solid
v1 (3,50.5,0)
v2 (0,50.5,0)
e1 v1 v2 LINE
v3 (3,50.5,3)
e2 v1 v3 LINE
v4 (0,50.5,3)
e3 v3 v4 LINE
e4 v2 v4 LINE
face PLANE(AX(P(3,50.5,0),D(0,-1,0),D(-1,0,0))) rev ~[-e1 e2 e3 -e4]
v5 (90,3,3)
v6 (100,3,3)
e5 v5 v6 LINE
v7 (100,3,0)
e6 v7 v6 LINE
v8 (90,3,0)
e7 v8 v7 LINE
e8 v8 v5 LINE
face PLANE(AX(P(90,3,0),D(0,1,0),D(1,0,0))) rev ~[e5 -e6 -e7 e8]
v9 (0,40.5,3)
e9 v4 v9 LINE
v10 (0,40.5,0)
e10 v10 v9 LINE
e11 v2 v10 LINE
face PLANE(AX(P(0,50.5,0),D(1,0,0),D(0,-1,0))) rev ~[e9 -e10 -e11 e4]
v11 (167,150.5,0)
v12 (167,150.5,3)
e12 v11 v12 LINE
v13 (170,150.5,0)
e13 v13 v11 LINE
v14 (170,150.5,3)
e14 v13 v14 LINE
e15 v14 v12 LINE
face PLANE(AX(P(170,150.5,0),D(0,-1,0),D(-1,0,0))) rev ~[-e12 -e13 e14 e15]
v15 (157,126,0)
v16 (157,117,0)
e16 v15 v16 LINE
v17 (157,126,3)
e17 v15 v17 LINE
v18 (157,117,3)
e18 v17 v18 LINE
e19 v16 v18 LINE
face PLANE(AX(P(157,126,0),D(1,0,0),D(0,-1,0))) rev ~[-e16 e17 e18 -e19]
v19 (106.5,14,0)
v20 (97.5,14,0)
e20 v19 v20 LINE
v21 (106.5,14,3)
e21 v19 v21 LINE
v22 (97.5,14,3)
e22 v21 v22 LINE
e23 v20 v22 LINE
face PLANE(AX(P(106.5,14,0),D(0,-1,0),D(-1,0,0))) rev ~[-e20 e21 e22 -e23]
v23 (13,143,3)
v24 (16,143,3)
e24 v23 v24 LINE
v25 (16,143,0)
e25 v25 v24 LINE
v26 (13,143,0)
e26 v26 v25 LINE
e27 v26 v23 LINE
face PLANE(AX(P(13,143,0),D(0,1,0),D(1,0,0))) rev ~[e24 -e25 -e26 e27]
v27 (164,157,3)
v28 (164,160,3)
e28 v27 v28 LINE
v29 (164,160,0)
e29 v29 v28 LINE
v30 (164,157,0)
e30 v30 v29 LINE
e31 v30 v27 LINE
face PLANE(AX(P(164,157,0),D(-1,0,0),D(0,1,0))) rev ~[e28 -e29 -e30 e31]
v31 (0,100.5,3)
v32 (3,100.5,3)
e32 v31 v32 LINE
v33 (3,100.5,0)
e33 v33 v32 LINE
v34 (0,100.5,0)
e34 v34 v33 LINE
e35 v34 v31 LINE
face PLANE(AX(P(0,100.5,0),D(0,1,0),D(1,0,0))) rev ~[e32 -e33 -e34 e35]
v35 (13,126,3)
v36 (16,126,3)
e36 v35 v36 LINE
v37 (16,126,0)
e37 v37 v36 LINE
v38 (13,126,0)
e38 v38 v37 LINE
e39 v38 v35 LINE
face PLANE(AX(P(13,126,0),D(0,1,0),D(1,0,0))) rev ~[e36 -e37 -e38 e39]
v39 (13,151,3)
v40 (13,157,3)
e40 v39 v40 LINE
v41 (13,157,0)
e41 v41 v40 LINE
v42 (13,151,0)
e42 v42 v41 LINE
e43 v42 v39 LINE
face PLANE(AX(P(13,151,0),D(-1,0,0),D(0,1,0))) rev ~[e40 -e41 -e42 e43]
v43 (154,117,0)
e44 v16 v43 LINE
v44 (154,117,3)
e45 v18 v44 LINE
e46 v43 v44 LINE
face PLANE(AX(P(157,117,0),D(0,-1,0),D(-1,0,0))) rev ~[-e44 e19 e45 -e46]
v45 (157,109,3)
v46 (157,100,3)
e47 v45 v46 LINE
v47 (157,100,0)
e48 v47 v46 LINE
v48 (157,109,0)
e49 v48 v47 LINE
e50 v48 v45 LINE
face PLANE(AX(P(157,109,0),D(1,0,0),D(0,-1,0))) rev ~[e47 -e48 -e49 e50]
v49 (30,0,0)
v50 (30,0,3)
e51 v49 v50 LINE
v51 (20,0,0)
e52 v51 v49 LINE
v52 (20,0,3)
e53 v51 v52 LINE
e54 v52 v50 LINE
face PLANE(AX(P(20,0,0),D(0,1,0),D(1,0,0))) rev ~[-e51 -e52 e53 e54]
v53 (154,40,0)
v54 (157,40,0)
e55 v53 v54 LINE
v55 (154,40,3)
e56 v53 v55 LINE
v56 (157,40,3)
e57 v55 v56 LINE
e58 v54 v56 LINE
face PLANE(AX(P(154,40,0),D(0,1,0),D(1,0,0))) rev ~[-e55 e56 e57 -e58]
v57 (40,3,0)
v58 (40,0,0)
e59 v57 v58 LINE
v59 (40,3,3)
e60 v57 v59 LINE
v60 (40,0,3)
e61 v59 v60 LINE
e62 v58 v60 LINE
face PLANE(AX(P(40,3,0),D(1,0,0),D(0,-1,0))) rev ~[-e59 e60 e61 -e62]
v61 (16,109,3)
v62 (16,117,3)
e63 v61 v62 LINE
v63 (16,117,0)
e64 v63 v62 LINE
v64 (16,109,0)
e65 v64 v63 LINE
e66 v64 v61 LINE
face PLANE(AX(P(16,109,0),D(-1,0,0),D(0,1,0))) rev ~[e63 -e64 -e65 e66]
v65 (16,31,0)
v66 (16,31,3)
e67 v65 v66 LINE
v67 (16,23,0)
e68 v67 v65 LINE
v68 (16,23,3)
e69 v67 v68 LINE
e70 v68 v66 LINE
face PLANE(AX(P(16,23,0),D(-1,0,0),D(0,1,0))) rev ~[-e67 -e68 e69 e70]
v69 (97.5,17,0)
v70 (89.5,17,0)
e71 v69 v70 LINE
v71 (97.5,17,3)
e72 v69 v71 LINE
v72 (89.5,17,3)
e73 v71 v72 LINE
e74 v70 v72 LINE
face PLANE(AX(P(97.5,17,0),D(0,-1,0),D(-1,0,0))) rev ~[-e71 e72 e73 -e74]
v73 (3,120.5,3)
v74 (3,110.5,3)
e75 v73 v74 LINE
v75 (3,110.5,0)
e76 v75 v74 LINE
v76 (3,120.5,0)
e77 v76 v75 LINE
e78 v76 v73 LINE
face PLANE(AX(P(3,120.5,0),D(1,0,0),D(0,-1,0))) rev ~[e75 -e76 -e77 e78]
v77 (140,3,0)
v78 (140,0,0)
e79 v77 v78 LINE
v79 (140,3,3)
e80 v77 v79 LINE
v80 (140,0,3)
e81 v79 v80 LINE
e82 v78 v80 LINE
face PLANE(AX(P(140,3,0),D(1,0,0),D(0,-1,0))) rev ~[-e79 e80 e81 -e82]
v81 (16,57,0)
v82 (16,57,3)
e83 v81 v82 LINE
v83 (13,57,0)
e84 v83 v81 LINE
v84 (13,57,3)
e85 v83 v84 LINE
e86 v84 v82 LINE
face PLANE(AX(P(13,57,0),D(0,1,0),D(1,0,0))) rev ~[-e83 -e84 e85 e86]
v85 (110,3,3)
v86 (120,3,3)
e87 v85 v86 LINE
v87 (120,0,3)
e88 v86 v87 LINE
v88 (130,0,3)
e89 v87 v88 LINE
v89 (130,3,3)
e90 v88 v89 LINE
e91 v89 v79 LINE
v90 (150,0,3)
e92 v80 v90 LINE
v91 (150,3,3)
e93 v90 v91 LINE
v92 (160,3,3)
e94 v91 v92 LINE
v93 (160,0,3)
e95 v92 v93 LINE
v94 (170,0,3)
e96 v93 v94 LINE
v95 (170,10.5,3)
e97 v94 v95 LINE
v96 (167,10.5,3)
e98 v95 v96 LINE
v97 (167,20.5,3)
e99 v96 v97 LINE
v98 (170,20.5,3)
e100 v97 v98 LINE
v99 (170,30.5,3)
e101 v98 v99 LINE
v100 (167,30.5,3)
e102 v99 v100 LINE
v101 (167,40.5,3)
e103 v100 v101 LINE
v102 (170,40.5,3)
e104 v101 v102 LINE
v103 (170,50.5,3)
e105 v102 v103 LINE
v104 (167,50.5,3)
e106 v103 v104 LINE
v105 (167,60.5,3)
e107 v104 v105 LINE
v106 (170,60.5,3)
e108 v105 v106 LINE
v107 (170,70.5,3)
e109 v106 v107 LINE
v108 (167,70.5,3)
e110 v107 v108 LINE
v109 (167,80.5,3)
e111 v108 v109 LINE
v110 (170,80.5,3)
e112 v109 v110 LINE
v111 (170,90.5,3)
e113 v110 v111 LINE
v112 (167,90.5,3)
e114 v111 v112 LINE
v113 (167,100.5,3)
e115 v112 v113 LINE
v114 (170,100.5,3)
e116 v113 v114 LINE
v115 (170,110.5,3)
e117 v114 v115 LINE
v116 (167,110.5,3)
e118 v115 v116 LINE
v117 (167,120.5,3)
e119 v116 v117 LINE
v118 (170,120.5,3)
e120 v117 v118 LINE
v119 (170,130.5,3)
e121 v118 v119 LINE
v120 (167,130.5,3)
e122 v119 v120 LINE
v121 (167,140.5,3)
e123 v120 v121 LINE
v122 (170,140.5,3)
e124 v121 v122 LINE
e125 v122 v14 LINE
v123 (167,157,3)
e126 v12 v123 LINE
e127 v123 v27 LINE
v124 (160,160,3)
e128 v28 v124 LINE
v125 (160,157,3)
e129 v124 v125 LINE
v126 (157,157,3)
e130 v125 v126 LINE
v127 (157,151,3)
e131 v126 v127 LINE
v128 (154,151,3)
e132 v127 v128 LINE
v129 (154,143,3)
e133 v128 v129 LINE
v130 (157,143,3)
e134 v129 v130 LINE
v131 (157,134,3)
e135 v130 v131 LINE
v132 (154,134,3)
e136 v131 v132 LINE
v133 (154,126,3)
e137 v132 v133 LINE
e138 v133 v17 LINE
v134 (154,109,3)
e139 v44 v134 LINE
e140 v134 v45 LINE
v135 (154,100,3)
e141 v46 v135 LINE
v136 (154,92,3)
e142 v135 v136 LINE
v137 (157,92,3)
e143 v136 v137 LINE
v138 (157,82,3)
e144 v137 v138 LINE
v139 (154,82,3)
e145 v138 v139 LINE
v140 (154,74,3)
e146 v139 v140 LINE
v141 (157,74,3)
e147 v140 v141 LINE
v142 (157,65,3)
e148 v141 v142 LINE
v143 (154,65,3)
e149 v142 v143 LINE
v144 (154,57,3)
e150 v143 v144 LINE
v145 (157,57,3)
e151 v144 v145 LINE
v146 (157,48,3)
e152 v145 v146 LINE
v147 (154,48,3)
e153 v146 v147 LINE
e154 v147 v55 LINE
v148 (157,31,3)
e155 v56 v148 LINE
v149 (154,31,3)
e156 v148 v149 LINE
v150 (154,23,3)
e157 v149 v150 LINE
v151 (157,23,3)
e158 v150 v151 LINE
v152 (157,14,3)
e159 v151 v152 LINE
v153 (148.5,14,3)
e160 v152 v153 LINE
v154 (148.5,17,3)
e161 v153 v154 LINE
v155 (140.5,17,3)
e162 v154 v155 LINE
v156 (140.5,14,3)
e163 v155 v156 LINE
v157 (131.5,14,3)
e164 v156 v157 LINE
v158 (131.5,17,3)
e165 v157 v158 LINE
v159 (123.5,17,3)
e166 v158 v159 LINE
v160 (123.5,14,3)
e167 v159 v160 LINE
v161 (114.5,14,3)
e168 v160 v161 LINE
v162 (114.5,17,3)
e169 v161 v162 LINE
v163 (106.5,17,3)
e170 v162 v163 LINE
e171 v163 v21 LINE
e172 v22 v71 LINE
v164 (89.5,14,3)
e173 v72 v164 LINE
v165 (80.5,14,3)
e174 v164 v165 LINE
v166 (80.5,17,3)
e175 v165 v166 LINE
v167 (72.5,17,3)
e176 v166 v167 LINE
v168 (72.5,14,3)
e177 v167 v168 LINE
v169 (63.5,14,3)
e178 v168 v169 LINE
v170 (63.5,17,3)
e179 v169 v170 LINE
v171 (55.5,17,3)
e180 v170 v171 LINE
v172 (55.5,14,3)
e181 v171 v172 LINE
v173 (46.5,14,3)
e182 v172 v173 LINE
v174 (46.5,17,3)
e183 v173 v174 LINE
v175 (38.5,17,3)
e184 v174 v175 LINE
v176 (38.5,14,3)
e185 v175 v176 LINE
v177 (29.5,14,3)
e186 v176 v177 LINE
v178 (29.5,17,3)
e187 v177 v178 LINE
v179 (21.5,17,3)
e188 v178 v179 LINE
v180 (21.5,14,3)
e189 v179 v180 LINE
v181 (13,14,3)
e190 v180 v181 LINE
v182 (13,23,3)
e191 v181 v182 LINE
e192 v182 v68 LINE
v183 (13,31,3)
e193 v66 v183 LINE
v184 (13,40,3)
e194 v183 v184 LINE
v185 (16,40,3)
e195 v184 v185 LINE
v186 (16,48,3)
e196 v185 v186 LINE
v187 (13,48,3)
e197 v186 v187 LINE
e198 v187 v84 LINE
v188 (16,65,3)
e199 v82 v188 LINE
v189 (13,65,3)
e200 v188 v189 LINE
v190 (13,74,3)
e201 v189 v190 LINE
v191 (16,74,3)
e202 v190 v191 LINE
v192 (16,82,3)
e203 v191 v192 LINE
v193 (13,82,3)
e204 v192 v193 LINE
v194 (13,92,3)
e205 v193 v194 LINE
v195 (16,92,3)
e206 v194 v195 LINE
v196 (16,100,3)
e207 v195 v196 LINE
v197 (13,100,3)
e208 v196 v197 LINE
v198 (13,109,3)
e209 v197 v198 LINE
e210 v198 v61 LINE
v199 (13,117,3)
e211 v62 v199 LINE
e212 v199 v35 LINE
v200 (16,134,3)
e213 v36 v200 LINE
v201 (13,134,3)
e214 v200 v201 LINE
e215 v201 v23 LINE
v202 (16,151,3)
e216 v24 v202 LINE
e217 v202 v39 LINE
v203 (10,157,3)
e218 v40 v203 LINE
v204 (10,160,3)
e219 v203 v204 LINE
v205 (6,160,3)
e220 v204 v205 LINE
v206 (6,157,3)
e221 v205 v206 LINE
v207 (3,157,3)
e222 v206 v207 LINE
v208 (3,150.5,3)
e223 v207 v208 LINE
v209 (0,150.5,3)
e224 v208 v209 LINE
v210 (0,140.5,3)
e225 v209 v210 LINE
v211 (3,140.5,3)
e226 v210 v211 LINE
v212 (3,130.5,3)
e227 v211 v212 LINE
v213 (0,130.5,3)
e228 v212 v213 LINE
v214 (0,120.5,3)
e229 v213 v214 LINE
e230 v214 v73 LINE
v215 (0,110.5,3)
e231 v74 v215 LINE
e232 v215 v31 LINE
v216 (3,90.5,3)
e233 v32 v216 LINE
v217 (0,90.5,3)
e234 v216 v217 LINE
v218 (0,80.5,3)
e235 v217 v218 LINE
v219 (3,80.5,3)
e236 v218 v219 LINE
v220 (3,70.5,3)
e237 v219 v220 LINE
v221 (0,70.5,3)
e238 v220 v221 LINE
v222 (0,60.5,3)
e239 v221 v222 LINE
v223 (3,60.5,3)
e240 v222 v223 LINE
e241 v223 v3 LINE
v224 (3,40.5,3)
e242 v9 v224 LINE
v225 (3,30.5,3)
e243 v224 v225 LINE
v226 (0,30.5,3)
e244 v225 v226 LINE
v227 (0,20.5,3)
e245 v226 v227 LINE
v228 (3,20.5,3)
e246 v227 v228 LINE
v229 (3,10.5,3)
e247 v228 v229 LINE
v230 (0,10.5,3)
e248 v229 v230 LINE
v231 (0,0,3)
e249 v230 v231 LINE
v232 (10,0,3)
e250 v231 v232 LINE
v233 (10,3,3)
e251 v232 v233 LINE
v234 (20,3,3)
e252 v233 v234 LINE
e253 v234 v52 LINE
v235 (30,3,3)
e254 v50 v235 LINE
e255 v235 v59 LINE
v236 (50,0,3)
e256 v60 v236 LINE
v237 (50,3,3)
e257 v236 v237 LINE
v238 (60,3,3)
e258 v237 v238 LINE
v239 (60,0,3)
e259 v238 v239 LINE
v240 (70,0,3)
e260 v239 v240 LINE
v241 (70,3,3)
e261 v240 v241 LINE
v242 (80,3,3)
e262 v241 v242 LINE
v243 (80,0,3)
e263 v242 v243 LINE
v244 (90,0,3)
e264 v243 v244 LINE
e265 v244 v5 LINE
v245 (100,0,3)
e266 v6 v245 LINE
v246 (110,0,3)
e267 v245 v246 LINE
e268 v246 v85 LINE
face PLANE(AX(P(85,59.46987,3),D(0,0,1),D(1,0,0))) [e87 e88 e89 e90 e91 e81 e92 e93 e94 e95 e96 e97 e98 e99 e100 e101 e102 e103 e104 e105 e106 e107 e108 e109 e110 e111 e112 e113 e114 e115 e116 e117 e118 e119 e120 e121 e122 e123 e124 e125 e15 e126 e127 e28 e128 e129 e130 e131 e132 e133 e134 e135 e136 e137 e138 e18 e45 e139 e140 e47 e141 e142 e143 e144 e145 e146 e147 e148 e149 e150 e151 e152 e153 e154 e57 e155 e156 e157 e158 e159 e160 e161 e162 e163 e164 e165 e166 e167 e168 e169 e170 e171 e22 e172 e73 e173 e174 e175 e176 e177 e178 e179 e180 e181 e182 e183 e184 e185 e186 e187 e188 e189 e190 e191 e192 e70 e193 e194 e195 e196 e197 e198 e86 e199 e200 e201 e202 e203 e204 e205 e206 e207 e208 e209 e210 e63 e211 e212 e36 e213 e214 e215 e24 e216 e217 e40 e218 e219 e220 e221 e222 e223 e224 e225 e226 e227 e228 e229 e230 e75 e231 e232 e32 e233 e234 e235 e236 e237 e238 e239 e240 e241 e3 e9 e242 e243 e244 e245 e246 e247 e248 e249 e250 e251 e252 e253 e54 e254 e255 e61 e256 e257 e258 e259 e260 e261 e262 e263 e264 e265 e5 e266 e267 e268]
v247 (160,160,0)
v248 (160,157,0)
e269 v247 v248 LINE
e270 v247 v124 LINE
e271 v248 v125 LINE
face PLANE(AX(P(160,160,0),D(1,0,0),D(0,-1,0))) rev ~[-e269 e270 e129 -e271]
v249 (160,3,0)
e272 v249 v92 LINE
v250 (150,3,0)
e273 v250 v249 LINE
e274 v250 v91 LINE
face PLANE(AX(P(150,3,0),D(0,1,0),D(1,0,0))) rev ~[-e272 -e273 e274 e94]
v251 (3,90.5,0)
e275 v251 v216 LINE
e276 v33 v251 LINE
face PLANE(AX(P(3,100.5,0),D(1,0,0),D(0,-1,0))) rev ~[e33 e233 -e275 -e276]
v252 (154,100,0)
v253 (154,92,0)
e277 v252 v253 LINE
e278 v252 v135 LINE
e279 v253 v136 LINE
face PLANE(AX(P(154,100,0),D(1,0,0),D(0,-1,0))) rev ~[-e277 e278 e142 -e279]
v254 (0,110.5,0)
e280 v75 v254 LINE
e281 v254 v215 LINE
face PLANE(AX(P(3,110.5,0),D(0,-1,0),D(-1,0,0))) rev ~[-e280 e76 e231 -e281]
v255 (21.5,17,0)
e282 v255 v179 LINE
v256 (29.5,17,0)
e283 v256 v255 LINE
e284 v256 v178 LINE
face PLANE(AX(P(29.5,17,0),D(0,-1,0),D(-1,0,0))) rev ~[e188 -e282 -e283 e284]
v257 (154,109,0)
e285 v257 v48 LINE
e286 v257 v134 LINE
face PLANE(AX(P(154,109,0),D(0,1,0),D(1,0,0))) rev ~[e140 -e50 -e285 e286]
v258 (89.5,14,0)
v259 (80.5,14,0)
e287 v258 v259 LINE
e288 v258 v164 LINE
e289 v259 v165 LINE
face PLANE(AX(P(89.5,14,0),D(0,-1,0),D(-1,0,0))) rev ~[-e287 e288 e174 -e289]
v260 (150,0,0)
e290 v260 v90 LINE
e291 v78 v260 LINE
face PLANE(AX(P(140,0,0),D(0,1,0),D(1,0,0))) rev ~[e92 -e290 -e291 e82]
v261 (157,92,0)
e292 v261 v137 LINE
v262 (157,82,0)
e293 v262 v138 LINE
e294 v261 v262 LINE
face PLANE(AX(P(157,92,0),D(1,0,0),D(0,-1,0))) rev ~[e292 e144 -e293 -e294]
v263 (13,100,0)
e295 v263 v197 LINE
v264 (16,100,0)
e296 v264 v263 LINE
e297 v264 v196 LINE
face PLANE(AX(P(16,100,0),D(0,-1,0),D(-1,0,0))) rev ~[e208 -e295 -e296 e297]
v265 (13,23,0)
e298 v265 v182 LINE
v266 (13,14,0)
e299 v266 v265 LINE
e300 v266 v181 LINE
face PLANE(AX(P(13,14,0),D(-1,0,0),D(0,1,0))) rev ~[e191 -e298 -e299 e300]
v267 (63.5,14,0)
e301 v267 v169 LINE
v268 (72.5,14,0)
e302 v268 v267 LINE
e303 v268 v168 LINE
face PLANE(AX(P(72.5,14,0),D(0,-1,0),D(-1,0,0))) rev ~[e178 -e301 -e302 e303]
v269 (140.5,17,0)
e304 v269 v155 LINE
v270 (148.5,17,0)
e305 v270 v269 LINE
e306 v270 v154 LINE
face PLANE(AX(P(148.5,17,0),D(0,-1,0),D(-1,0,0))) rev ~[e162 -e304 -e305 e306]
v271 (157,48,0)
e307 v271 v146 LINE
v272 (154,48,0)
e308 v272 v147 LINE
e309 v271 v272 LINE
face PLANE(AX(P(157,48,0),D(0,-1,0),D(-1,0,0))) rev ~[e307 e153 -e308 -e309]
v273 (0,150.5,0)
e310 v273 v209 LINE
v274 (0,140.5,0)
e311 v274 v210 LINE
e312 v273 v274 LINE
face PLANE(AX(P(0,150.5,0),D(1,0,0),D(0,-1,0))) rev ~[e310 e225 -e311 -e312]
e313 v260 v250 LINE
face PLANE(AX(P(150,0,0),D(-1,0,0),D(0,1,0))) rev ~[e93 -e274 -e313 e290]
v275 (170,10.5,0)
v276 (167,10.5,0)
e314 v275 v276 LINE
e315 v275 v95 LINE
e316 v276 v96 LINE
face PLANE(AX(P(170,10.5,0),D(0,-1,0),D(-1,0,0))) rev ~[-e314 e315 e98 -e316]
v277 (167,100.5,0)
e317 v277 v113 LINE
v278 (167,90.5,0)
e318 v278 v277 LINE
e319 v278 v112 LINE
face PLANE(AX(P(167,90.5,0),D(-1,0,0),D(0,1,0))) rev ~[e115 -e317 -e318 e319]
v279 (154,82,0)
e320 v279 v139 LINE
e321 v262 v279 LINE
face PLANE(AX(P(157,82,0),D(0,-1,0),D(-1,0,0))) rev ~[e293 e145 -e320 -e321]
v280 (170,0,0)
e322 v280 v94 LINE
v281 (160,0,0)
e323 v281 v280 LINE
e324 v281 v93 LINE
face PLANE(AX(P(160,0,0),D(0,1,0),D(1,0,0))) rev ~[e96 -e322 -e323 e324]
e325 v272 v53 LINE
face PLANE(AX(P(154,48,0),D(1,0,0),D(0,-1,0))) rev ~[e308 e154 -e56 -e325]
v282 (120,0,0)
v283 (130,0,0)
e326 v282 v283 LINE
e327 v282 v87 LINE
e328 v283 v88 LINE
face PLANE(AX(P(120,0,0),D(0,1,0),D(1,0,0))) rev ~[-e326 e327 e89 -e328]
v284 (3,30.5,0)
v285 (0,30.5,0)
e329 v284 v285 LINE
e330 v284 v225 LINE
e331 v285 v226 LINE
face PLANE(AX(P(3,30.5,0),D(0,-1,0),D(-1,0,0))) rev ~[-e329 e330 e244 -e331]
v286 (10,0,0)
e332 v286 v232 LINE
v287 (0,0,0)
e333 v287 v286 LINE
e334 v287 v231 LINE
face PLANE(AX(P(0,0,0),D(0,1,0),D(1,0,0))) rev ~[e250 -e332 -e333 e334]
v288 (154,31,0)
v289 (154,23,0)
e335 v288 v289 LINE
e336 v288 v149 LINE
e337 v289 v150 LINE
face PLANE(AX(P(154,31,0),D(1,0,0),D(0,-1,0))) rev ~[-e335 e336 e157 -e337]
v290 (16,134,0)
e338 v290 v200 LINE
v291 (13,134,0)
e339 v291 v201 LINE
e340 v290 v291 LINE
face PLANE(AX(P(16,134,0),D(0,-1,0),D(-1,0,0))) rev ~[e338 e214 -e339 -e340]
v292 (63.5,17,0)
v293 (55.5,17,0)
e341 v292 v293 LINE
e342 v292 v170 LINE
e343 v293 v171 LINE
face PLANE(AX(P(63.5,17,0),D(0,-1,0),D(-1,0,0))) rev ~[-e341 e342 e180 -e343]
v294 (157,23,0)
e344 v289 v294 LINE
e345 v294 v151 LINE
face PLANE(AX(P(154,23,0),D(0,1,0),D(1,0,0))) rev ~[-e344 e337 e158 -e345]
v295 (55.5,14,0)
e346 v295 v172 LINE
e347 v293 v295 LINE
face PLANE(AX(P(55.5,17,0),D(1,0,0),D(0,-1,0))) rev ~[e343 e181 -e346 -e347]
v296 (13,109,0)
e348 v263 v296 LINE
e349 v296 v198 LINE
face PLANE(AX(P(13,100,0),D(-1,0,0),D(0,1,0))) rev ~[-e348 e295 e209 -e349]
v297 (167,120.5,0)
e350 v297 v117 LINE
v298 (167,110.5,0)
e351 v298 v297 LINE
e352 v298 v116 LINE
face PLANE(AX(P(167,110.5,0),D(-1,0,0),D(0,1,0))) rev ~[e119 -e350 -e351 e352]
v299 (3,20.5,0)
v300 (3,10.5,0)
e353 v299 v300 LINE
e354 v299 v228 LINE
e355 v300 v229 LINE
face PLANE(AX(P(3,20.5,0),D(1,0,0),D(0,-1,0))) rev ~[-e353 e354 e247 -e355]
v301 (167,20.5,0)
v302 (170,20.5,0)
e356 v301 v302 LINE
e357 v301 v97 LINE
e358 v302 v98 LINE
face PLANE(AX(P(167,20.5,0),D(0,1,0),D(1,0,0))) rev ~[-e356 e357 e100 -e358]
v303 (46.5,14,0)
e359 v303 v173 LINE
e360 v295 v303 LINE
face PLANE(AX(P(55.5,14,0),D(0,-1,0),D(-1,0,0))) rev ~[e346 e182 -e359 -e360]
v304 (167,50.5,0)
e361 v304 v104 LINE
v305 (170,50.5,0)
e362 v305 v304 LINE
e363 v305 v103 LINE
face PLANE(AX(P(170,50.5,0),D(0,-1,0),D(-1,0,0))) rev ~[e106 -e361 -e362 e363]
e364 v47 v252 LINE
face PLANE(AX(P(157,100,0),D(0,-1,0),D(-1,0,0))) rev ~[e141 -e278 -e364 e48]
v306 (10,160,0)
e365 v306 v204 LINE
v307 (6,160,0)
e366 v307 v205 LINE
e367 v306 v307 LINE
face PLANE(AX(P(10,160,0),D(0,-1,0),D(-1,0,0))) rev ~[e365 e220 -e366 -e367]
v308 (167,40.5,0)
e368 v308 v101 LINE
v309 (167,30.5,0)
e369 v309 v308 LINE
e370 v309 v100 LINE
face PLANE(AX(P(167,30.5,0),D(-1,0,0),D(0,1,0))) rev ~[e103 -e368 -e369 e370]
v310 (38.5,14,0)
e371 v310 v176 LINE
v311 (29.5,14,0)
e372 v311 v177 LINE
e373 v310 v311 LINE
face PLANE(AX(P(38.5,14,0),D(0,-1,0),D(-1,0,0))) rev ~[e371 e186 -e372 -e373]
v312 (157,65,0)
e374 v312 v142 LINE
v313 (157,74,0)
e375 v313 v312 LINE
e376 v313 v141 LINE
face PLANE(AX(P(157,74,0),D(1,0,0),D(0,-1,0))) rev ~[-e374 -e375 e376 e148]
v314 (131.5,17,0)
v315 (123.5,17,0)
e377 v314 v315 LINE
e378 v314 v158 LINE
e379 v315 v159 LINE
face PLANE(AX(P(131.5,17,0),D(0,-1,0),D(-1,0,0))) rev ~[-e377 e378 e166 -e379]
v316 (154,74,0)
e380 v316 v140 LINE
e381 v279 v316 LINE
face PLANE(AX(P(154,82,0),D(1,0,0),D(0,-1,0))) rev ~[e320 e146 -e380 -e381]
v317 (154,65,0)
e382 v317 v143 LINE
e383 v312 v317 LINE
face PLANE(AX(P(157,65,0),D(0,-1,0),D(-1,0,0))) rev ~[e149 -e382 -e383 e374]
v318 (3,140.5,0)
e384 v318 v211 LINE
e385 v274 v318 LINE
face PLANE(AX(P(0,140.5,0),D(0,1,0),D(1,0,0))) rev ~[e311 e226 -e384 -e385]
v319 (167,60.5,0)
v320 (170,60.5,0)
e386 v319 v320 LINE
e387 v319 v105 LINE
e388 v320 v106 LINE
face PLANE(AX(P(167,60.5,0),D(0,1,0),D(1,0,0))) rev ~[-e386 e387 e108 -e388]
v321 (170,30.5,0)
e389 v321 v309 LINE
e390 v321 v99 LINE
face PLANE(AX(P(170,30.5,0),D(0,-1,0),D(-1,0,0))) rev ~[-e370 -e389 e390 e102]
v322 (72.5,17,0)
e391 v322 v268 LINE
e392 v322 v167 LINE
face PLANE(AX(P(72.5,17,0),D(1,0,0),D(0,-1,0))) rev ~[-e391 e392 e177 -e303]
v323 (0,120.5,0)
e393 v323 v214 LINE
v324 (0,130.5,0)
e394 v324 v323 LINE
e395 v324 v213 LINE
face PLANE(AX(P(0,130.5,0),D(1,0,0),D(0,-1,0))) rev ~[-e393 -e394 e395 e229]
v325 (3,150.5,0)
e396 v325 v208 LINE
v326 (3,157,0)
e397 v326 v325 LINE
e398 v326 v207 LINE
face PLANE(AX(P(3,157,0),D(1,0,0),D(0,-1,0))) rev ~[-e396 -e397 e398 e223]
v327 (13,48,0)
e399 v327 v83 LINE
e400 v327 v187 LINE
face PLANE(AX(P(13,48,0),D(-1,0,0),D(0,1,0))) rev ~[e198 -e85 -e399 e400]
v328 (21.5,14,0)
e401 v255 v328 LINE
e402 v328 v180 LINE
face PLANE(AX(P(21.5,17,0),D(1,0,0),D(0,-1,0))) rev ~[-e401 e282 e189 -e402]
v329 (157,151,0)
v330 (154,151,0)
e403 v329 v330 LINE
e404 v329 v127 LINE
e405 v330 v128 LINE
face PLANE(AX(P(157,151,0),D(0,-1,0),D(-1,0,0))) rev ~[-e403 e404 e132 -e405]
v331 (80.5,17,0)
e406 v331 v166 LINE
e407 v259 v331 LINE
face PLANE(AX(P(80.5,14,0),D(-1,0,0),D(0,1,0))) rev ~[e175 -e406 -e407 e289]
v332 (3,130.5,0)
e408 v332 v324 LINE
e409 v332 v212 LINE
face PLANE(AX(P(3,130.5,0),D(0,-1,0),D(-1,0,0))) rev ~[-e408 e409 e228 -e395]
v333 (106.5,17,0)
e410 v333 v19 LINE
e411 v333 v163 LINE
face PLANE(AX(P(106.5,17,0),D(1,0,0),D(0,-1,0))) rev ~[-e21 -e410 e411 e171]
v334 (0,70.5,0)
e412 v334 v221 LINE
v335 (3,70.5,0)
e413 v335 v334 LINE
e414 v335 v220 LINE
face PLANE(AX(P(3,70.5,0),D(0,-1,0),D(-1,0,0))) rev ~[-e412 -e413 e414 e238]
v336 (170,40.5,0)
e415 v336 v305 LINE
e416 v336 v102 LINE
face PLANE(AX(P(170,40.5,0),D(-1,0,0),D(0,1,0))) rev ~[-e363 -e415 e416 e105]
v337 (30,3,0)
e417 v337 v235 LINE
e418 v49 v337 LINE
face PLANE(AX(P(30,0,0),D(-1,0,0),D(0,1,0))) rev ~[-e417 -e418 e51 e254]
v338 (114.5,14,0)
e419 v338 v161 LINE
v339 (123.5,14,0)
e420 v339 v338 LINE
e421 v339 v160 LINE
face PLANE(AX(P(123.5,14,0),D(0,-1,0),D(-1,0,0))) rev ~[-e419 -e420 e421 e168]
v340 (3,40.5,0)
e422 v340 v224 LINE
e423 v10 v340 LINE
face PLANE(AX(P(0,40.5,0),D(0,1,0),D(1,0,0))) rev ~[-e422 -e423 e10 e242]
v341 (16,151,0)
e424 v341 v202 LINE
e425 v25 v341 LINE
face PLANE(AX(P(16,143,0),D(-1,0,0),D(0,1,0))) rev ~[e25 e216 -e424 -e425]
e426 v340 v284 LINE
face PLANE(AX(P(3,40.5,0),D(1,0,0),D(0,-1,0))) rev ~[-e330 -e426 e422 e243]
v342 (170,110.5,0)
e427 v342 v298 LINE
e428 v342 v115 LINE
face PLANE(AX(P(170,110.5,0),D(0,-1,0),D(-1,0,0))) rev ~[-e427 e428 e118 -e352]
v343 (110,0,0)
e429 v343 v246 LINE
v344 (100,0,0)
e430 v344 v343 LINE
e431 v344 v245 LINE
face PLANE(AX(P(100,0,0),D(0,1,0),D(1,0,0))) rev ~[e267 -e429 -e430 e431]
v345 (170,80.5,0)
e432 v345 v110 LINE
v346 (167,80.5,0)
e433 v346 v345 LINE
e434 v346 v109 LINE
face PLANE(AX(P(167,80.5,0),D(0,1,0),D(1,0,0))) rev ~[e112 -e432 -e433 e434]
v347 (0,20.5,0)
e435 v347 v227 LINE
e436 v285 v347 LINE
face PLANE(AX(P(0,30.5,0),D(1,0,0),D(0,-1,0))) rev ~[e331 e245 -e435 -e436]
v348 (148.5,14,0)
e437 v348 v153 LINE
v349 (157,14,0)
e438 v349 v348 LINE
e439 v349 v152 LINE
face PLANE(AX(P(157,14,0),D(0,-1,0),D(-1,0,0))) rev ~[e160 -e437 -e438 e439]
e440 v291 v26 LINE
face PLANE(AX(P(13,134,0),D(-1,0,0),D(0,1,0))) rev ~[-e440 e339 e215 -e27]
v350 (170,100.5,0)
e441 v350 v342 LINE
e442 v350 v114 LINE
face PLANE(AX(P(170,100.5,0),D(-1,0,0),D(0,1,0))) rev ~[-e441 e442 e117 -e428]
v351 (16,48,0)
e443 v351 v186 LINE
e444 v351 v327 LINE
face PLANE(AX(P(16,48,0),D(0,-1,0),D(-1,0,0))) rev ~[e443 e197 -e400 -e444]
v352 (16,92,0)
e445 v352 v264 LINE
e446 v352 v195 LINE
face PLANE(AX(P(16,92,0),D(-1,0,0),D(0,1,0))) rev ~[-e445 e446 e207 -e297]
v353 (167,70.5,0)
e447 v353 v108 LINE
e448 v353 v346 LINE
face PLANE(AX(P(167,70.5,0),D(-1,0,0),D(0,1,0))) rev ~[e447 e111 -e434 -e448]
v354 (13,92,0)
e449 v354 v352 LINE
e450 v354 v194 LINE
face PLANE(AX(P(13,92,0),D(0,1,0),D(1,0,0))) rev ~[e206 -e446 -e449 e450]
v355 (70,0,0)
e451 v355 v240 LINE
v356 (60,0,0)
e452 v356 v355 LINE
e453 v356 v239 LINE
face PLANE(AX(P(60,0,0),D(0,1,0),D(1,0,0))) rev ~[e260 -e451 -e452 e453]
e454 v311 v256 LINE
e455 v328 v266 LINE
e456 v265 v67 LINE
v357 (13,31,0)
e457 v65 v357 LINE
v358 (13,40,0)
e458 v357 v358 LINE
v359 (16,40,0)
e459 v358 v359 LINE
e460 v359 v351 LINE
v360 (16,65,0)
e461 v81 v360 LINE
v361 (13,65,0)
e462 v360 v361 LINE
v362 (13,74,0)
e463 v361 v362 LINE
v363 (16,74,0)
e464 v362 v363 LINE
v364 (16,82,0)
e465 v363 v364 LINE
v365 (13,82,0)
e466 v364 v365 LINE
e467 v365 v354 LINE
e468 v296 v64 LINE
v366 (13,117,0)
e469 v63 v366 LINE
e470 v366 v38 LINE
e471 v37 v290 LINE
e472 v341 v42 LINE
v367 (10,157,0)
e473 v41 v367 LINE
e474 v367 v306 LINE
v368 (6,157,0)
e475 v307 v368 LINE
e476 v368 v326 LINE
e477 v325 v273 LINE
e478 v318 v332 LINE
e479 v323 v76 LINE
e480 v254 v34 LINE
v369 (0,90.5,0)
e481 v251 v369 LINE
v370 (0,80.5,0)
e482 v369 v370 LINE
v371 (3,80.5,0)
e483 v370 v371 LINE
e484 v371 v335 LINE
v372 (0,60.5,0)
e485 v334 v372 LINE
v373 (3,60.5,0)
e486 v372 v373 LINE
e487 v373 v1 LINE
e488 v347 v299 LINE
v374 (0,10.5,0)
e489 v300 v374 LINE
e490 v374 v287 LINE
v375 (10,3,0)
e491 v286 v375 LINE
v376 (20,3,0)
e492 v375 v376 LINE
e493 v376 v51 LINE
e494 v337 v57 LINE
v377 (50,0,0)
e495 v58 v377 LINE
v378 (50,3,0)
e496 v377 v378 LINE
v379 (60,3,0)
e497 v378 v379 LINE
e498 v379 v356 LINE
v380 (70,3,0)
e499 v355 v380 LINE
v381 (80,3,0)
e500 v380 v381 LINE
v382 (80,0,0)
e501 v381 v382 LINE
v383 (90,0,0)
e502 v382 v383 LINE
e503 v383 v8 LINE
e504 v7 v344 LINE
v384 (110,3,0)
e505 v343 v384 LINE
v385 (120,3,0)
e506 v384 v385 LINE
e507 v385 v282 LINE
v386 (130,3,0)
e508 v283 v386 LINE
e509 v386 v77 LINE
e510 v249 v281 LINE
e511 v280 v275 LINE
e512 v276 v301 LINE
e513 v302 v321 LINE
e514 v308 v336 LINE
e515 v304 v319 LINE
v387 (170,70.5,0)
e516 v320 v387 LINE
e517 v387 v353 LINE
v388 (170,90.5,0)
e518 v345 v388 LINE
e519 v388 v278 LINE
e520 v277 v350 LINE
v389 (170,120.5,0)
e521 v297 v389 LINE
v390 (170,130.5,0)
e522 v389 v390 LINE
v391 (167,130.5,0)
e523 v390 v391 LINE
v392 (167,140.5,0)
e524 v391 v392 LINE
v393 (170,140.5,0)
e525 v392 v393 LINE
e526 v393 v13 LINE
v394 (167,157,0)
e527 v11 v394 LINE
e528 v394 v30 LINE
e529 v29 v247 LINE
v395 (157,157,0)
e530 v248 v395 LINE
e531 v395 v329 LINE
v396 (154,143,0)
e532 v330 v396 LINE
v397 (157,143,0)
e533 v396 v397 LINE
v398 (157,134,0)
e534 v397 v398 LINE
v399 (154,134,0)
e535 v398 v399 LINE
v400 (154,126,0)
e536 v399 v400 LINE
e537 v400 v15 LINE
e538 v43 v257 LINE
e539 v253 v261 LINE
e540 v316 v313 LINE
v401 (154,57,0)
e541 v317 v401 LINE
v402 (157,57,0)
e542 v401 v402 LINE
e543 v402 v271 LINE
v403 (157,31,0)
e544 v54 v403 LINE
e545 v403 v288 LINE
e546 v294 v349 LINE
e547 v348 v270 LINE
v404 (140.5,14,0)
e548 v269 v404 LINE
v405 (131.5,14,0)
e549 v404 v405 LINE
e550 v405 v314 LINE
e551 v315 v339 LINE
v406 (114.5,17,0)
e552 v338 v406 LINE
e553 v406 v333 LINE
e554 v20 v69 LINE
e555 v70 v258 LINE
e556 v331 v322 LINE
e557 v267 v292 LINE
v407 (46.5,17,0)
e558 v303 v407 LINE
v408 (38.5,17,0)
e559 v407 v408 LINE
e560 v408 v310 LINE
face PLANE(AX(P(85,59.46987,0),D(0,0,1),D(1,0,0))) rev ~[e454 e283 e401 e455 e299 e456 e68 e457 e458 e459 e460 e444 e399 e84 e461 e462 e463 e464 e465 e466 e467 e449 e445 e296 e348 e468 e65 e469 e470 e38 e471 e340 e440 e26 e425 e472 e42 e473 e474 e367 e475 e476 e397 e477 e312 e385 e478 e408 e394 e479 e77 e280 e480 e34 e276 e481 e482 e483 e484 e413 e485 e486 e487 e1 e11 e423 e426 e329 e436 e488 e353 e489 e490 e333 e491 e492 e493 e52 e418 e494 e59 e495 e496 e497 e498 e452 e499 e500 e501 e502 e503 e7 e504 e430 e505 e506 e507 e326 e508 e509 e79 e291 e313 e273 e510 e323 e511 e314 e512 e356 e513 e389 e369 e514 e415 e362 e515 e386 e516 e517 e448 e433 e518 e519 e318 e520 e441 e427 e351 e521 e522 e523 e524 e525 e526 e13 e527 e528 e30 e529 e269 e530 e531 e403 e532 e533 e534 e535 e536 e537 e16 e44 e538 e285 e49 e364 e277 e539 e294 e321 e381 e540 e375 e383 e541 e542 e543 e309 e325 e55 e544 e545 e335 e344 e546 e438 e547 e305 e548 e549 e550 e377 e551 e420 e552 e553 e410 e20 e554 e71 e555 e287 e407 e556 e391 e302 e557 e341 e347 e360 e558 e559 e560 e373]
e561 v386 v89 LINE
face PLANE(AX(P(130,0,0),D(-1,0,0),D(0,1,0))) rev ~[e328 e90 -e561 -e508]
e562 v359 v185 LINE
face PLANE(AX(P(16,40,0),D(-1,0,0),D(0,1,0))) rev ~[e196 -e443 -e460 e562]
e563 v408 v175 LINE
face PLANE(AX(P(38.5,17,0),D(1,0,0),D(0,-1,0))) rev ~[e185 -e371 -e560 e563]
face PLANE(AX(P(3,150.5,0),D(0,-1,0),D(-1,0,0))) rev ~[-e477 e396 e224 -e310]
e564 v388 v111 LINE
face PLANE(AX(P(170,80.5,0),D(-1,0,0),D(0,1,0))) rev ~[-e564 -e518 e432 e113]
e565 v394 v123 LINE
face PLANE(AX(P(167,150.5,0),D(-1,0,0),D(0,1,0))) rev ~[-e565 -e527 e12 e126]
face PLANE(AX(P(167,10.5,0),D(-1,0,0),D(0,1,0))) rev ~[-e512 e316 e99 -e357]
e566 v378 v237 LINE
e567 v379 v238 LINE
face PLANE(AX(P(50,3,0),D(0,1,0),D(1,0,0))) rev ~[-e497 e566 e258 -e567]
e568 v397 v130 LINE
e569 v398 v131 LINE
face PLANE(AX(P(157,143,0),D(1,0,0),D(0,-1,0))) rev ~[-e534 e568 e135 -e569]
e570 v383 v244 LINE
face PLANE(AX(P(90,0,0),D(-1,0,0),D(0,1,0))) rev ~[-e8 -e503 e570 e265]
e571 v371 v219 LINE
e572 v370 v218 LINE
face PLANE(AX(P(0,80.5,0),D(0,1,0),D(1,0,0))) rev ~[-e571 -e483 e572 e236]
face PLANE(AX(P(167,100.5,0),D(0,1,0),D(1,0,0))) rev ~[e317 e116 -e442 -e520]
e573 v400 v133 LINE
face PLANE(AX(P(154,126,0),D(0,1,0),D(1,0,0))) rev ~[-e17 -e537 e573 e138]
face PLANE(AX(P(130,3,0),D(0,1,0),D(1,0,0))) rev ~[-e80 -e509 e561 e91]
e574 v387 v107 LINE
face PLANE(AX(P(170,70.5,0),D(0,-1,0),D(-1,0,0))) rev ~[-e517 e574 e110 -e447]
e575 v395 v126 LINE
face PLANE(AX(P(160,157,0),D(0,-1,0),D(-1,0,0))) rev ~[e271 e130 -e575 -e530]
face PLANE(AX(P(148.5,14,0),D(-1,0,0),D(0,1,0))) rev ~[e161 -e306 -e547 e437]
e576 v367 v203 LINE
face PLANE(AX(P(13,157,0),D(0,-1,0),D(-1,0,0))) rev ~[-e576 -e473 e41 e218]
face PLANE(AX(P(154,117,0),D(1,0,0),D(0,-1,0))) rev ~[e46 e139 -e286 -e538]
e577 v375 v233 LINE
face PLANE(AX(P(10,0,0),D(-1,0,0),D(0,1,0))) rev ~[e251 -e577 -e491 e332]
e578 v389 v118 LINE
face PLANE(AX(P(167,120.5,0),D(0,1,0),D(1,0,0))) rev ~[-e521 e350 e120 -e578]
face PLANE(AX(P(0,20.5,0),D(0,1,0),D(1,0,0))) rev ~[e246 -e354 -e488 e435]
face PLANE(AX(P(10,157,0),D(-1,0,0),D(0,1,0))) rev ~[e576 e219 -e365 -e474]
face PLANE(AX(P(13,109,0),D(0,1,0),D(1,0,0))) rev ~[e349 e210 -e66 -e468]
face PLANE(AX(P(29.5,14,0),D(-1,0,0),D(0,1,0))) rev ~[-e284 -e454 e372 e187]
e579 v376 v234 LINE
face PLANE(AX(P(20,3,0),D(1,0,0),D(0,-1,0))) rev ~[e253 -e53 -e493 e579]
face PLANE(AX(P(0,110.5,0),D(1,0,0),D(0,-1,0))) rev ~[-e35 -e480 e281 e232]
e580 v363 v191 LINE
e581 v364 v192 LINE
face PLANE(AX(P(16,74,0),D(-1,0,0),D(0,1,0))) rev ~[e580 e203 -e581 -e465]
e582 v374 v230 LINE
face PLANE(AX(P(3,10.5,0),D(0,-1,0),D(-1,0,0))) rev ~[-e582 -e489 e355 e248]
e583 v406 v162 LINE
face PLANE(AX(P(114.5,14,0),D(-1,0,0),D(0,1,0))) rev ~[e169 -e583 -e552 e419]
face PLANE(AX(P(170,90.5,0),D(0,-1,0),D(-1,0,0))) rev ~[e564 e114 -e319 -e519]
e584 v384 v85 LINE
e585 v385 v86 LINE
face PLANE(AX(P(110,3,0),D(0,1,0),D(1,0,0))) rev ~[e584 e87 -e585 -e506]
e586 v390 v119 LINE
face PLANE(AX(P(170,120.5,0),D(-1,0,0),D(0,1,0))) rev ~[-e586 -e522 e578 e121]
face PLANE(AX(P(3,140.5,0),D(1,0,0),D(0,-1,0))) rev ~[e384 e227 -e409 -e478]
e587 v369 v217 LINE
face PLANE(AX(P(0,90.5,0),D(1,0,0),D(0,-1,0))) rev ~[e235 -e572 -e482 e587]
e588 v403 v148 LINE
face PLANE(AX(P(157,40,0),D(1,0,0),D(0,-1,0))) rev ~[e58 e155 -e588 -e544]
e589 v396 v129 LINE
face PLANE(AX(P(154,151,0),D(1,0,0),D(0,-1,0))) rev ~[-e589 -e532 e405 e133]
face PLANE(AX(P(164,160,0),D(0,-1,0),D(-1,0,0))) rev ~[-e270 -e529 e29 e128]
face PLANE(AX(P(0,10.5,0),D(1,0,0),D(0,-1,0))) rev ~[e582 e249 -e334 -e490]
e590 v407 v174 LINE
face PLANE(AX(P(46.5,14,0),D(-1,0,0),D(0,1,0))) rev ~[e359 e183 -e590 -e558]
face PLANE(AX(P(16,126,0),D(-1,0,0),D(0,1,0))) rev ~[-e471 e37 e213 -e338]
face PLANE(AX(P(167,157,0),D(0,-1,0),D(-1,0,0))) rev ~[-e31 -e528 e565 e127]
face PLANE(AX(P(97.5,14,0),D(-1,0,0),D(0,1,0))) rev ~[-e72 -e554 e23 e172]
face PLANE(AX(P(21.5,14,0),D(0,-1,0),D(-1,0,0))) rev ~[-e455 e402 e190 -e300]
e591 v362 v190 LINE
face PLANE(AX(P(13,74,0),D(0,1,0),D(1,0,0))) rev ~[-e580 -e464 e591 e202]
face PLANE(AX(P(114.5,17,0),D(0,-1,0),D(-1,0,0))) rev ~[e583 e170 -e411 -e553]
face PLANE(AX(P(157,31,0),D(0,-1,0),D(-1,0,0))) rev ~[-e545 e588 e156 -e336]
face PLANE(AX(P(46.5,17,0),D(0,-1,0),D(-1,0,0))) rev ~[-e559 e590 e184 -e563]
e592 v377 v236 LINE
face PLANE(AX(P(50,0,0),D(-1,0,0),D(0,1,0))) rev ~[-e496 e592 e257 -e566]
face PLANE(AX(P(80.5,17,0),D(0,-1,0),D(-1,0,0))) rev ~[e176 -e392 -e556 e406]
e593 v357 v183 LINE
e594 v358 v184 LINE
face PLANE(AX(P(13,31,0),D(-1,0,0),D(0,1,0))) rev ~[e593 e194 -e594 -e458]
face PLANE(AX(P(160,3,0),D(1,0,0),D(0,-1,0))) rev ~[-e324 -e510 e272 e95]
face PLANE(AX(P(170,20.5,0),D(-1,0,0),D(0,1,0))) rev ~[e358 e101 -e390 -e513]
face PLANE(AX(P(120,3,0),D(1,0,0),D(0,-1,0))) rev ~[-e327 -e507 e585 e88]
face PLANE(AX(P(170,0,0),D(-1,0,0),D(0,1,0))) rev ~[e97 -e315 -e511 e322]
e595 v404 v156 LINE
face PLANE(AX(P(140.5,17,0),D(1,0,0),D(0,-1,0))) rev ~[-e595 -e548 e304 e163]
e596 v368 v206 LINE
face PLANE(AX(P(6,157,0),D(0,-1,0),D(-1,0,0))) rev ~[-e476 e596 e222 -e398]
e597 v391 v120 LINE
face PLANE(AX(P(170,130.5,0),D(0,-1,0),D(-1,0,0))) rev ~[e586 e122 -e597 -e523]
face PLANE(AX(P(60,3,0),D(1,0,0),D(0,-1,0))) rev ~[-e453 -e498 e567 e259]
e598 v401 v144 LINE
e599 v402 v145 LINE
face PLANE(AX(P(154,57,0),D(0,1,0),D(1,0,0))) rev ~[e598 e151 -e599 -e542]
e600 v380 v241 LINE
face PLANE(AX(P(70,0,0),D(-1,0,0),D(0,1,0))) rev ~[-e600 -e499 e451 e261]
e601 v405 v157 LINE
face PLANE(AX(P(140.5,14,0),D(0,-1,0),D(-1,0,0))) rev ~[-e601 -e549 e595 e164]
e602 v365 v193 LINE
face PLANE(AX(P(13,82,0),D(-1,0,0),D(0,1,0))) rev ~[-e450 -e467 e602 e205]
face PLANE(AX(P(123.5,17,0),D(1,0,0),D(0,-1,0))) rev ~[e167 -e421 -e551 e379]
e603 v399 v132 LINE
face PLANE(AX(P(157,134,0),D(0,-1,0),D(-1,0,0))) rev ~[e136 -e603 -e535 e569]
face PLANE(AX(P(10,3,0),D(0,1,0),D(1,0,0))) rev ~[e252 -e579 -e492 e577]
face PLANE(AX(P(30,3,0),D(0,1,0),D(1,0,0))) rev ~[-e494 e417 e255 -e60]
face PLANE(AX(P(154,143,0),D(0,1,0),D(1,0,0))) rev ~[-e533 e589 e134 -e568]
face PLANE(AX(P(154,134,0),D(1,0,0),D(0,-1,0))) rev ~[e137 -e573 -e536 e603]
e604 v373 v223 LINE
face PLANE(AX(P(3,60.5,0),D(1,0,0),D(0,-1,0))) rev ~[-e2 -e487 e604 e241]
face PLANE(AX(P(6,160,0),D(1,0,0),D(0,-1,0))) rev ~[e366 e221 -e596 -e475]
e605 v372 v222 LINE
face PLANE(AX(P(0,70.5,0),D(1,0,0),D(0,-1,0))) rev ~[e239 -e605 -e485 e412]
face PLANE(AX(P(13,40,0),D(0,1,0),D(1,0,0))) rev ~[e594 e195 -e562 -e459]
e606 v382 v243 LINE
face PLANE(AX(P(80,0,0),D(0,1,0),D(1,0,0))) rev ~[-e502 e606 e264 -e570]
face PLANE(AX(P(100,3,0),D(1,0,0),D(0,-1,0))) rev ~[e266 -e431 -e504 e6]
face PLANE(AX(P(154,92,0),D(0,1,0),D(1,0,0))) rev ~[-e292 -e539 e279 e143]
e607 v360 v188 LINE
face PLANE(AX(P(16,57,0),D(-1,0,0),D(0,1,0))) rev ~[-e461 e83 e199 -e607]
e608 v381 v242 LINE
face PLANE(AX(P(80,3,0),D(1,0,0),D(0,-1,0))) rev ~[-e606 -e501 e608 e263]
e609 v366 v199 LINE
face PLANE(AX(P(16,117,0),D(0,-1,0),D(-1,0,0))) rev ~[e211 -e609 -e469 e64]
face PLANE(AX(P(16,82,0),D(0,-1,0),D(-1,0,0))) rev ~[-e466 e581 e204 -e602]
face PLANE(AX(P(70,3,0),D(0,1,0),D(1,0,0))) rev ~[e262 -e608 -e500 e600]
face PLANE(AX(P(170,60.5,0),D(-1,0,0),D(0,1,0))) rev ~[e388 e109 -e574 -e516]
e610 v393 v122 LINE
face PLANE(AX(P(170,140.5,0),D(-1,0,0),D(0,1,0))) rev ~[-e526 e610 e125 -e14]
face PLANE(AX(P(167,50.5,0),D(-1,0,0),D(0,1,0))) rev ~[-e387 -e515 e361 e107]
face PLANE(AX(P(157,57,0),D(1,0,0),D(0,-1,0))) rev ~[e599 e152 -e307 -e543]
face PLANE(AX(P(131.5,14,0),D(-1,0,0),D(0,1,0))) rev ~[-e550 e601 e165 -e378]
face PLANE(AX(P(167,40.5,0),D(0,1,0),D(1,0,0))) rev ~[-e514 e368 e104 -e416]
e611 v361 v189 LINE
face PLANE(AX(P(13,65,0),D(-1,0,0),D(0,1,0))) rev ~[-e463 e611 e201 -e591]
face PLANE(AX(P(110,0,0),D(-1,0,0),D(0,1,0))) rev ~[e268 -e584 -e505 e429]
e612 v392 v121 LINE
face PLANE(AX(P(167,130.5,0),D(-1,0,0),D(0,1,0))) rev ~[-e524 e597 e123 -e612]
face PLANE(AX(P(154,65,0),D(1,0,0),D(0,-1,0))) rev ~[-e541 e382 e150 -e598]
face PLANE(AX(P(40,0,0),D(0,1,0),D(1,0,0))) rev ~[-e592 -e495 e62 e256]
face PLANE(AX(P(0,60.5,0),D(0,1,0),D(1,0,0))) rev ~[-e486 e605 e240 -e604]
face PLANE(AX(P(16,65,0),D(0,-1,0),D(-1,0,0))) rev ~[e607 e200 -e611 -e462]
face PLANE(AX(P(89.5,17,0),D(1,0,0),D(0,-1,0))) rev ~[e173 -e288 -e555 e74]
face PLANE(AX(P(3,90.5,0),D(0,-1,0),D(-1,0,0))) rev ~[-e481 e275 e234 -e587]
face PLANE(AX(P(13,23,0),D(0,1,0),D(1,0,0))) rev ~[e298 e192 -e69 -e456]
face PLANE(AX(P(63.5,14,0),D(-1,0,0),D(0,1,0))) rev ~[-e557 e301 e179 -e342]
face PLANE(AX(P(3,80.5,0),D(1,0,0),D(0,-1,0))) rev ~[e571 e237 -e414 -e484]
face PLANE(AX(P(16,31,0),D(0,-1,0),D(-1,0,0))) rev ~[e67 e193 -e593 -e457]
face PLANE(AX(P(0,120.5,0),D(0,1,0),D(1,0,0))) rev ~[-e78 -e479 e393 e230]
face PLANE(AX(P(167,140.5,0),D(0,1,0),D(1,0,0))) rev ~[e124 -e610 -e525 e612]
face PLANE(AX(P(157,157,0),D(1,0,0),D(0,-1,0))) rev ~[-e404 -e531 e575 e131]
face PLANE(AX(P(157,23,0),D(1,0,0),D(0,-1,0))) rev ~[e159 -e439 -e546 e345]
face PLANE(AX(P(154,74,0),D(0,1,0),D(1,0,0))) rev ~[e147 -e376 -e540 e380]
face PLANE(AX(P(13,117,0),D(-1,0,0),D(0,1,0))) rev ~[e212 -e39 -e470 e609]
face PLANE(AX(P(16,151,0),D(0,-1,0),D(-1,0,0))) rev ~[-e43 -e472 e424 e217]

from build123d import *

# Parameters (mm, degrees)
F1_DEPTH = 3


with BuildPart() as f1:
    # F0 (on Top) → F1 (new body)
    with BuildSketch(Plane.XY):
        Polygon((0, 10.5), (0, 0), (10, 0), (10, 3), (20, 3), (20, 0), (30, 0), (30, 3), (40, 3), (40, 0), (50, 0), (50, 3), (60, 3), (60, 0), (70, 0), (70, 3), (80, 3), (80, 0), (90, 0), (90, 3), (100, 3), (100, 0), (110, 0), (110, 3), (120, 3), (120, 0), (130, 0), (130, 3), (140, 3), (140, 0), (150, 0), (150, 3), (160, 3), (160, 0), (170, 0), (170, 10.5), (167, 10.5), (167, 20.5), (170, 20.5), (170, 30.5), (167, 30.5), (167, 40.5), (170, 40.5), (170, 50.5), (167, 50.5), (167, 60.5), (170, 60.5), (170, 70.5), (167, 70.5), (167, 80.5), (170, 80.5), (170, 90.5), (167, 90.5), (167, 100.5), (170, 100.5), (170, 110.5), (167, 110.5), (167, 120.5), (170, 120.5), (170, 130.5), (167, 130.5), (167, 140.5), (170, 140.5), (170, 150.5), (167, 150.5), (167, 157), (164, 157), (164, 160), (160, 160), (160, 157), (157, 157), (157, 151), (154, 151), (154, 143), (157, 143), (157, 134), (154, 134), (154, 126), (157, 126), (157, 117), (154, 117), (154, 109), (157, 109), (157, 100), (154, 100), (154, 92), (157, 92), (157, 82), (154, 82), (154, 74), (157, 74), (157, 65), (154, 65), (154, 57), (157, 57), (157, 48), (154, 48), (154, 40), (157, 40), (157, 31), (154, 31), (154, 23), (157, 23), (157, 14), (148.5, 14), (148.5, 17), (140.5, 17), (140.5, 14), (131.5, 14), (131.5, 17), (123.5, 17), (123.5, 14), (114.5, 14), (114.5, 17), (106.5, 17), (106.5, 14), (97.5, 14), (97.5, 17), (89.5, 17), (89.5, 14), (80.5, 14), (80.5, 17), (72.5, 17), (72.5, 14), (63.5, 14), (63.5, 17), (55.5, 17), (55.5, 14), (46.5, 14), (46.5, 17), (38.5, 17), (38.5, 14), (29.5, 14), (29.5, 17), (21.5, 17), (21.5, 14), (13, 14), (13, 23), (16, 23), (16, 31), (13, 31), (13, 40), (16, 40), (16, 48), (13, 48), (13, 57), (16, 57), (16, 65), (13, 65), (13, 74), (16, 74), (16, 82), (13, 82), (13, 92), (16, 92), (16, 100), (13, 100), (13, 109), (16, 109), (16, 117), (13, 117), (13, 126), (16, 126), (16, 134), (13, 134), (13, 143), (16, 143), (16, 151), (13, 151), (13, 157), (10, 157), (10, 160), (6, 160), (6, 157), (3, 157), (3, 150.5), (0, 150.5), (0, 140.5), (3, 140.5), (3, 130.5), (0, 130.5), (0, 120.5), (3, 120.5), (3, 110.5), (0, 110.5), (0, 100.5), (3, 100.5), (3, 90.5), (0, 90.5), (0, 80.5), (3, 80.5), (3, 70.5), (0, 70.5), (0, 60.5), (3, 60.5), (3, 50.5), (0, 50.5), (0, 40.5), (3, 40.5), (3, 30.5), (0, 30.5), (0, 20.5), (3, 20.5), (3, 10.5), align=None)
    extrude(amount=F1_DEPTH)


solid = f1.part
